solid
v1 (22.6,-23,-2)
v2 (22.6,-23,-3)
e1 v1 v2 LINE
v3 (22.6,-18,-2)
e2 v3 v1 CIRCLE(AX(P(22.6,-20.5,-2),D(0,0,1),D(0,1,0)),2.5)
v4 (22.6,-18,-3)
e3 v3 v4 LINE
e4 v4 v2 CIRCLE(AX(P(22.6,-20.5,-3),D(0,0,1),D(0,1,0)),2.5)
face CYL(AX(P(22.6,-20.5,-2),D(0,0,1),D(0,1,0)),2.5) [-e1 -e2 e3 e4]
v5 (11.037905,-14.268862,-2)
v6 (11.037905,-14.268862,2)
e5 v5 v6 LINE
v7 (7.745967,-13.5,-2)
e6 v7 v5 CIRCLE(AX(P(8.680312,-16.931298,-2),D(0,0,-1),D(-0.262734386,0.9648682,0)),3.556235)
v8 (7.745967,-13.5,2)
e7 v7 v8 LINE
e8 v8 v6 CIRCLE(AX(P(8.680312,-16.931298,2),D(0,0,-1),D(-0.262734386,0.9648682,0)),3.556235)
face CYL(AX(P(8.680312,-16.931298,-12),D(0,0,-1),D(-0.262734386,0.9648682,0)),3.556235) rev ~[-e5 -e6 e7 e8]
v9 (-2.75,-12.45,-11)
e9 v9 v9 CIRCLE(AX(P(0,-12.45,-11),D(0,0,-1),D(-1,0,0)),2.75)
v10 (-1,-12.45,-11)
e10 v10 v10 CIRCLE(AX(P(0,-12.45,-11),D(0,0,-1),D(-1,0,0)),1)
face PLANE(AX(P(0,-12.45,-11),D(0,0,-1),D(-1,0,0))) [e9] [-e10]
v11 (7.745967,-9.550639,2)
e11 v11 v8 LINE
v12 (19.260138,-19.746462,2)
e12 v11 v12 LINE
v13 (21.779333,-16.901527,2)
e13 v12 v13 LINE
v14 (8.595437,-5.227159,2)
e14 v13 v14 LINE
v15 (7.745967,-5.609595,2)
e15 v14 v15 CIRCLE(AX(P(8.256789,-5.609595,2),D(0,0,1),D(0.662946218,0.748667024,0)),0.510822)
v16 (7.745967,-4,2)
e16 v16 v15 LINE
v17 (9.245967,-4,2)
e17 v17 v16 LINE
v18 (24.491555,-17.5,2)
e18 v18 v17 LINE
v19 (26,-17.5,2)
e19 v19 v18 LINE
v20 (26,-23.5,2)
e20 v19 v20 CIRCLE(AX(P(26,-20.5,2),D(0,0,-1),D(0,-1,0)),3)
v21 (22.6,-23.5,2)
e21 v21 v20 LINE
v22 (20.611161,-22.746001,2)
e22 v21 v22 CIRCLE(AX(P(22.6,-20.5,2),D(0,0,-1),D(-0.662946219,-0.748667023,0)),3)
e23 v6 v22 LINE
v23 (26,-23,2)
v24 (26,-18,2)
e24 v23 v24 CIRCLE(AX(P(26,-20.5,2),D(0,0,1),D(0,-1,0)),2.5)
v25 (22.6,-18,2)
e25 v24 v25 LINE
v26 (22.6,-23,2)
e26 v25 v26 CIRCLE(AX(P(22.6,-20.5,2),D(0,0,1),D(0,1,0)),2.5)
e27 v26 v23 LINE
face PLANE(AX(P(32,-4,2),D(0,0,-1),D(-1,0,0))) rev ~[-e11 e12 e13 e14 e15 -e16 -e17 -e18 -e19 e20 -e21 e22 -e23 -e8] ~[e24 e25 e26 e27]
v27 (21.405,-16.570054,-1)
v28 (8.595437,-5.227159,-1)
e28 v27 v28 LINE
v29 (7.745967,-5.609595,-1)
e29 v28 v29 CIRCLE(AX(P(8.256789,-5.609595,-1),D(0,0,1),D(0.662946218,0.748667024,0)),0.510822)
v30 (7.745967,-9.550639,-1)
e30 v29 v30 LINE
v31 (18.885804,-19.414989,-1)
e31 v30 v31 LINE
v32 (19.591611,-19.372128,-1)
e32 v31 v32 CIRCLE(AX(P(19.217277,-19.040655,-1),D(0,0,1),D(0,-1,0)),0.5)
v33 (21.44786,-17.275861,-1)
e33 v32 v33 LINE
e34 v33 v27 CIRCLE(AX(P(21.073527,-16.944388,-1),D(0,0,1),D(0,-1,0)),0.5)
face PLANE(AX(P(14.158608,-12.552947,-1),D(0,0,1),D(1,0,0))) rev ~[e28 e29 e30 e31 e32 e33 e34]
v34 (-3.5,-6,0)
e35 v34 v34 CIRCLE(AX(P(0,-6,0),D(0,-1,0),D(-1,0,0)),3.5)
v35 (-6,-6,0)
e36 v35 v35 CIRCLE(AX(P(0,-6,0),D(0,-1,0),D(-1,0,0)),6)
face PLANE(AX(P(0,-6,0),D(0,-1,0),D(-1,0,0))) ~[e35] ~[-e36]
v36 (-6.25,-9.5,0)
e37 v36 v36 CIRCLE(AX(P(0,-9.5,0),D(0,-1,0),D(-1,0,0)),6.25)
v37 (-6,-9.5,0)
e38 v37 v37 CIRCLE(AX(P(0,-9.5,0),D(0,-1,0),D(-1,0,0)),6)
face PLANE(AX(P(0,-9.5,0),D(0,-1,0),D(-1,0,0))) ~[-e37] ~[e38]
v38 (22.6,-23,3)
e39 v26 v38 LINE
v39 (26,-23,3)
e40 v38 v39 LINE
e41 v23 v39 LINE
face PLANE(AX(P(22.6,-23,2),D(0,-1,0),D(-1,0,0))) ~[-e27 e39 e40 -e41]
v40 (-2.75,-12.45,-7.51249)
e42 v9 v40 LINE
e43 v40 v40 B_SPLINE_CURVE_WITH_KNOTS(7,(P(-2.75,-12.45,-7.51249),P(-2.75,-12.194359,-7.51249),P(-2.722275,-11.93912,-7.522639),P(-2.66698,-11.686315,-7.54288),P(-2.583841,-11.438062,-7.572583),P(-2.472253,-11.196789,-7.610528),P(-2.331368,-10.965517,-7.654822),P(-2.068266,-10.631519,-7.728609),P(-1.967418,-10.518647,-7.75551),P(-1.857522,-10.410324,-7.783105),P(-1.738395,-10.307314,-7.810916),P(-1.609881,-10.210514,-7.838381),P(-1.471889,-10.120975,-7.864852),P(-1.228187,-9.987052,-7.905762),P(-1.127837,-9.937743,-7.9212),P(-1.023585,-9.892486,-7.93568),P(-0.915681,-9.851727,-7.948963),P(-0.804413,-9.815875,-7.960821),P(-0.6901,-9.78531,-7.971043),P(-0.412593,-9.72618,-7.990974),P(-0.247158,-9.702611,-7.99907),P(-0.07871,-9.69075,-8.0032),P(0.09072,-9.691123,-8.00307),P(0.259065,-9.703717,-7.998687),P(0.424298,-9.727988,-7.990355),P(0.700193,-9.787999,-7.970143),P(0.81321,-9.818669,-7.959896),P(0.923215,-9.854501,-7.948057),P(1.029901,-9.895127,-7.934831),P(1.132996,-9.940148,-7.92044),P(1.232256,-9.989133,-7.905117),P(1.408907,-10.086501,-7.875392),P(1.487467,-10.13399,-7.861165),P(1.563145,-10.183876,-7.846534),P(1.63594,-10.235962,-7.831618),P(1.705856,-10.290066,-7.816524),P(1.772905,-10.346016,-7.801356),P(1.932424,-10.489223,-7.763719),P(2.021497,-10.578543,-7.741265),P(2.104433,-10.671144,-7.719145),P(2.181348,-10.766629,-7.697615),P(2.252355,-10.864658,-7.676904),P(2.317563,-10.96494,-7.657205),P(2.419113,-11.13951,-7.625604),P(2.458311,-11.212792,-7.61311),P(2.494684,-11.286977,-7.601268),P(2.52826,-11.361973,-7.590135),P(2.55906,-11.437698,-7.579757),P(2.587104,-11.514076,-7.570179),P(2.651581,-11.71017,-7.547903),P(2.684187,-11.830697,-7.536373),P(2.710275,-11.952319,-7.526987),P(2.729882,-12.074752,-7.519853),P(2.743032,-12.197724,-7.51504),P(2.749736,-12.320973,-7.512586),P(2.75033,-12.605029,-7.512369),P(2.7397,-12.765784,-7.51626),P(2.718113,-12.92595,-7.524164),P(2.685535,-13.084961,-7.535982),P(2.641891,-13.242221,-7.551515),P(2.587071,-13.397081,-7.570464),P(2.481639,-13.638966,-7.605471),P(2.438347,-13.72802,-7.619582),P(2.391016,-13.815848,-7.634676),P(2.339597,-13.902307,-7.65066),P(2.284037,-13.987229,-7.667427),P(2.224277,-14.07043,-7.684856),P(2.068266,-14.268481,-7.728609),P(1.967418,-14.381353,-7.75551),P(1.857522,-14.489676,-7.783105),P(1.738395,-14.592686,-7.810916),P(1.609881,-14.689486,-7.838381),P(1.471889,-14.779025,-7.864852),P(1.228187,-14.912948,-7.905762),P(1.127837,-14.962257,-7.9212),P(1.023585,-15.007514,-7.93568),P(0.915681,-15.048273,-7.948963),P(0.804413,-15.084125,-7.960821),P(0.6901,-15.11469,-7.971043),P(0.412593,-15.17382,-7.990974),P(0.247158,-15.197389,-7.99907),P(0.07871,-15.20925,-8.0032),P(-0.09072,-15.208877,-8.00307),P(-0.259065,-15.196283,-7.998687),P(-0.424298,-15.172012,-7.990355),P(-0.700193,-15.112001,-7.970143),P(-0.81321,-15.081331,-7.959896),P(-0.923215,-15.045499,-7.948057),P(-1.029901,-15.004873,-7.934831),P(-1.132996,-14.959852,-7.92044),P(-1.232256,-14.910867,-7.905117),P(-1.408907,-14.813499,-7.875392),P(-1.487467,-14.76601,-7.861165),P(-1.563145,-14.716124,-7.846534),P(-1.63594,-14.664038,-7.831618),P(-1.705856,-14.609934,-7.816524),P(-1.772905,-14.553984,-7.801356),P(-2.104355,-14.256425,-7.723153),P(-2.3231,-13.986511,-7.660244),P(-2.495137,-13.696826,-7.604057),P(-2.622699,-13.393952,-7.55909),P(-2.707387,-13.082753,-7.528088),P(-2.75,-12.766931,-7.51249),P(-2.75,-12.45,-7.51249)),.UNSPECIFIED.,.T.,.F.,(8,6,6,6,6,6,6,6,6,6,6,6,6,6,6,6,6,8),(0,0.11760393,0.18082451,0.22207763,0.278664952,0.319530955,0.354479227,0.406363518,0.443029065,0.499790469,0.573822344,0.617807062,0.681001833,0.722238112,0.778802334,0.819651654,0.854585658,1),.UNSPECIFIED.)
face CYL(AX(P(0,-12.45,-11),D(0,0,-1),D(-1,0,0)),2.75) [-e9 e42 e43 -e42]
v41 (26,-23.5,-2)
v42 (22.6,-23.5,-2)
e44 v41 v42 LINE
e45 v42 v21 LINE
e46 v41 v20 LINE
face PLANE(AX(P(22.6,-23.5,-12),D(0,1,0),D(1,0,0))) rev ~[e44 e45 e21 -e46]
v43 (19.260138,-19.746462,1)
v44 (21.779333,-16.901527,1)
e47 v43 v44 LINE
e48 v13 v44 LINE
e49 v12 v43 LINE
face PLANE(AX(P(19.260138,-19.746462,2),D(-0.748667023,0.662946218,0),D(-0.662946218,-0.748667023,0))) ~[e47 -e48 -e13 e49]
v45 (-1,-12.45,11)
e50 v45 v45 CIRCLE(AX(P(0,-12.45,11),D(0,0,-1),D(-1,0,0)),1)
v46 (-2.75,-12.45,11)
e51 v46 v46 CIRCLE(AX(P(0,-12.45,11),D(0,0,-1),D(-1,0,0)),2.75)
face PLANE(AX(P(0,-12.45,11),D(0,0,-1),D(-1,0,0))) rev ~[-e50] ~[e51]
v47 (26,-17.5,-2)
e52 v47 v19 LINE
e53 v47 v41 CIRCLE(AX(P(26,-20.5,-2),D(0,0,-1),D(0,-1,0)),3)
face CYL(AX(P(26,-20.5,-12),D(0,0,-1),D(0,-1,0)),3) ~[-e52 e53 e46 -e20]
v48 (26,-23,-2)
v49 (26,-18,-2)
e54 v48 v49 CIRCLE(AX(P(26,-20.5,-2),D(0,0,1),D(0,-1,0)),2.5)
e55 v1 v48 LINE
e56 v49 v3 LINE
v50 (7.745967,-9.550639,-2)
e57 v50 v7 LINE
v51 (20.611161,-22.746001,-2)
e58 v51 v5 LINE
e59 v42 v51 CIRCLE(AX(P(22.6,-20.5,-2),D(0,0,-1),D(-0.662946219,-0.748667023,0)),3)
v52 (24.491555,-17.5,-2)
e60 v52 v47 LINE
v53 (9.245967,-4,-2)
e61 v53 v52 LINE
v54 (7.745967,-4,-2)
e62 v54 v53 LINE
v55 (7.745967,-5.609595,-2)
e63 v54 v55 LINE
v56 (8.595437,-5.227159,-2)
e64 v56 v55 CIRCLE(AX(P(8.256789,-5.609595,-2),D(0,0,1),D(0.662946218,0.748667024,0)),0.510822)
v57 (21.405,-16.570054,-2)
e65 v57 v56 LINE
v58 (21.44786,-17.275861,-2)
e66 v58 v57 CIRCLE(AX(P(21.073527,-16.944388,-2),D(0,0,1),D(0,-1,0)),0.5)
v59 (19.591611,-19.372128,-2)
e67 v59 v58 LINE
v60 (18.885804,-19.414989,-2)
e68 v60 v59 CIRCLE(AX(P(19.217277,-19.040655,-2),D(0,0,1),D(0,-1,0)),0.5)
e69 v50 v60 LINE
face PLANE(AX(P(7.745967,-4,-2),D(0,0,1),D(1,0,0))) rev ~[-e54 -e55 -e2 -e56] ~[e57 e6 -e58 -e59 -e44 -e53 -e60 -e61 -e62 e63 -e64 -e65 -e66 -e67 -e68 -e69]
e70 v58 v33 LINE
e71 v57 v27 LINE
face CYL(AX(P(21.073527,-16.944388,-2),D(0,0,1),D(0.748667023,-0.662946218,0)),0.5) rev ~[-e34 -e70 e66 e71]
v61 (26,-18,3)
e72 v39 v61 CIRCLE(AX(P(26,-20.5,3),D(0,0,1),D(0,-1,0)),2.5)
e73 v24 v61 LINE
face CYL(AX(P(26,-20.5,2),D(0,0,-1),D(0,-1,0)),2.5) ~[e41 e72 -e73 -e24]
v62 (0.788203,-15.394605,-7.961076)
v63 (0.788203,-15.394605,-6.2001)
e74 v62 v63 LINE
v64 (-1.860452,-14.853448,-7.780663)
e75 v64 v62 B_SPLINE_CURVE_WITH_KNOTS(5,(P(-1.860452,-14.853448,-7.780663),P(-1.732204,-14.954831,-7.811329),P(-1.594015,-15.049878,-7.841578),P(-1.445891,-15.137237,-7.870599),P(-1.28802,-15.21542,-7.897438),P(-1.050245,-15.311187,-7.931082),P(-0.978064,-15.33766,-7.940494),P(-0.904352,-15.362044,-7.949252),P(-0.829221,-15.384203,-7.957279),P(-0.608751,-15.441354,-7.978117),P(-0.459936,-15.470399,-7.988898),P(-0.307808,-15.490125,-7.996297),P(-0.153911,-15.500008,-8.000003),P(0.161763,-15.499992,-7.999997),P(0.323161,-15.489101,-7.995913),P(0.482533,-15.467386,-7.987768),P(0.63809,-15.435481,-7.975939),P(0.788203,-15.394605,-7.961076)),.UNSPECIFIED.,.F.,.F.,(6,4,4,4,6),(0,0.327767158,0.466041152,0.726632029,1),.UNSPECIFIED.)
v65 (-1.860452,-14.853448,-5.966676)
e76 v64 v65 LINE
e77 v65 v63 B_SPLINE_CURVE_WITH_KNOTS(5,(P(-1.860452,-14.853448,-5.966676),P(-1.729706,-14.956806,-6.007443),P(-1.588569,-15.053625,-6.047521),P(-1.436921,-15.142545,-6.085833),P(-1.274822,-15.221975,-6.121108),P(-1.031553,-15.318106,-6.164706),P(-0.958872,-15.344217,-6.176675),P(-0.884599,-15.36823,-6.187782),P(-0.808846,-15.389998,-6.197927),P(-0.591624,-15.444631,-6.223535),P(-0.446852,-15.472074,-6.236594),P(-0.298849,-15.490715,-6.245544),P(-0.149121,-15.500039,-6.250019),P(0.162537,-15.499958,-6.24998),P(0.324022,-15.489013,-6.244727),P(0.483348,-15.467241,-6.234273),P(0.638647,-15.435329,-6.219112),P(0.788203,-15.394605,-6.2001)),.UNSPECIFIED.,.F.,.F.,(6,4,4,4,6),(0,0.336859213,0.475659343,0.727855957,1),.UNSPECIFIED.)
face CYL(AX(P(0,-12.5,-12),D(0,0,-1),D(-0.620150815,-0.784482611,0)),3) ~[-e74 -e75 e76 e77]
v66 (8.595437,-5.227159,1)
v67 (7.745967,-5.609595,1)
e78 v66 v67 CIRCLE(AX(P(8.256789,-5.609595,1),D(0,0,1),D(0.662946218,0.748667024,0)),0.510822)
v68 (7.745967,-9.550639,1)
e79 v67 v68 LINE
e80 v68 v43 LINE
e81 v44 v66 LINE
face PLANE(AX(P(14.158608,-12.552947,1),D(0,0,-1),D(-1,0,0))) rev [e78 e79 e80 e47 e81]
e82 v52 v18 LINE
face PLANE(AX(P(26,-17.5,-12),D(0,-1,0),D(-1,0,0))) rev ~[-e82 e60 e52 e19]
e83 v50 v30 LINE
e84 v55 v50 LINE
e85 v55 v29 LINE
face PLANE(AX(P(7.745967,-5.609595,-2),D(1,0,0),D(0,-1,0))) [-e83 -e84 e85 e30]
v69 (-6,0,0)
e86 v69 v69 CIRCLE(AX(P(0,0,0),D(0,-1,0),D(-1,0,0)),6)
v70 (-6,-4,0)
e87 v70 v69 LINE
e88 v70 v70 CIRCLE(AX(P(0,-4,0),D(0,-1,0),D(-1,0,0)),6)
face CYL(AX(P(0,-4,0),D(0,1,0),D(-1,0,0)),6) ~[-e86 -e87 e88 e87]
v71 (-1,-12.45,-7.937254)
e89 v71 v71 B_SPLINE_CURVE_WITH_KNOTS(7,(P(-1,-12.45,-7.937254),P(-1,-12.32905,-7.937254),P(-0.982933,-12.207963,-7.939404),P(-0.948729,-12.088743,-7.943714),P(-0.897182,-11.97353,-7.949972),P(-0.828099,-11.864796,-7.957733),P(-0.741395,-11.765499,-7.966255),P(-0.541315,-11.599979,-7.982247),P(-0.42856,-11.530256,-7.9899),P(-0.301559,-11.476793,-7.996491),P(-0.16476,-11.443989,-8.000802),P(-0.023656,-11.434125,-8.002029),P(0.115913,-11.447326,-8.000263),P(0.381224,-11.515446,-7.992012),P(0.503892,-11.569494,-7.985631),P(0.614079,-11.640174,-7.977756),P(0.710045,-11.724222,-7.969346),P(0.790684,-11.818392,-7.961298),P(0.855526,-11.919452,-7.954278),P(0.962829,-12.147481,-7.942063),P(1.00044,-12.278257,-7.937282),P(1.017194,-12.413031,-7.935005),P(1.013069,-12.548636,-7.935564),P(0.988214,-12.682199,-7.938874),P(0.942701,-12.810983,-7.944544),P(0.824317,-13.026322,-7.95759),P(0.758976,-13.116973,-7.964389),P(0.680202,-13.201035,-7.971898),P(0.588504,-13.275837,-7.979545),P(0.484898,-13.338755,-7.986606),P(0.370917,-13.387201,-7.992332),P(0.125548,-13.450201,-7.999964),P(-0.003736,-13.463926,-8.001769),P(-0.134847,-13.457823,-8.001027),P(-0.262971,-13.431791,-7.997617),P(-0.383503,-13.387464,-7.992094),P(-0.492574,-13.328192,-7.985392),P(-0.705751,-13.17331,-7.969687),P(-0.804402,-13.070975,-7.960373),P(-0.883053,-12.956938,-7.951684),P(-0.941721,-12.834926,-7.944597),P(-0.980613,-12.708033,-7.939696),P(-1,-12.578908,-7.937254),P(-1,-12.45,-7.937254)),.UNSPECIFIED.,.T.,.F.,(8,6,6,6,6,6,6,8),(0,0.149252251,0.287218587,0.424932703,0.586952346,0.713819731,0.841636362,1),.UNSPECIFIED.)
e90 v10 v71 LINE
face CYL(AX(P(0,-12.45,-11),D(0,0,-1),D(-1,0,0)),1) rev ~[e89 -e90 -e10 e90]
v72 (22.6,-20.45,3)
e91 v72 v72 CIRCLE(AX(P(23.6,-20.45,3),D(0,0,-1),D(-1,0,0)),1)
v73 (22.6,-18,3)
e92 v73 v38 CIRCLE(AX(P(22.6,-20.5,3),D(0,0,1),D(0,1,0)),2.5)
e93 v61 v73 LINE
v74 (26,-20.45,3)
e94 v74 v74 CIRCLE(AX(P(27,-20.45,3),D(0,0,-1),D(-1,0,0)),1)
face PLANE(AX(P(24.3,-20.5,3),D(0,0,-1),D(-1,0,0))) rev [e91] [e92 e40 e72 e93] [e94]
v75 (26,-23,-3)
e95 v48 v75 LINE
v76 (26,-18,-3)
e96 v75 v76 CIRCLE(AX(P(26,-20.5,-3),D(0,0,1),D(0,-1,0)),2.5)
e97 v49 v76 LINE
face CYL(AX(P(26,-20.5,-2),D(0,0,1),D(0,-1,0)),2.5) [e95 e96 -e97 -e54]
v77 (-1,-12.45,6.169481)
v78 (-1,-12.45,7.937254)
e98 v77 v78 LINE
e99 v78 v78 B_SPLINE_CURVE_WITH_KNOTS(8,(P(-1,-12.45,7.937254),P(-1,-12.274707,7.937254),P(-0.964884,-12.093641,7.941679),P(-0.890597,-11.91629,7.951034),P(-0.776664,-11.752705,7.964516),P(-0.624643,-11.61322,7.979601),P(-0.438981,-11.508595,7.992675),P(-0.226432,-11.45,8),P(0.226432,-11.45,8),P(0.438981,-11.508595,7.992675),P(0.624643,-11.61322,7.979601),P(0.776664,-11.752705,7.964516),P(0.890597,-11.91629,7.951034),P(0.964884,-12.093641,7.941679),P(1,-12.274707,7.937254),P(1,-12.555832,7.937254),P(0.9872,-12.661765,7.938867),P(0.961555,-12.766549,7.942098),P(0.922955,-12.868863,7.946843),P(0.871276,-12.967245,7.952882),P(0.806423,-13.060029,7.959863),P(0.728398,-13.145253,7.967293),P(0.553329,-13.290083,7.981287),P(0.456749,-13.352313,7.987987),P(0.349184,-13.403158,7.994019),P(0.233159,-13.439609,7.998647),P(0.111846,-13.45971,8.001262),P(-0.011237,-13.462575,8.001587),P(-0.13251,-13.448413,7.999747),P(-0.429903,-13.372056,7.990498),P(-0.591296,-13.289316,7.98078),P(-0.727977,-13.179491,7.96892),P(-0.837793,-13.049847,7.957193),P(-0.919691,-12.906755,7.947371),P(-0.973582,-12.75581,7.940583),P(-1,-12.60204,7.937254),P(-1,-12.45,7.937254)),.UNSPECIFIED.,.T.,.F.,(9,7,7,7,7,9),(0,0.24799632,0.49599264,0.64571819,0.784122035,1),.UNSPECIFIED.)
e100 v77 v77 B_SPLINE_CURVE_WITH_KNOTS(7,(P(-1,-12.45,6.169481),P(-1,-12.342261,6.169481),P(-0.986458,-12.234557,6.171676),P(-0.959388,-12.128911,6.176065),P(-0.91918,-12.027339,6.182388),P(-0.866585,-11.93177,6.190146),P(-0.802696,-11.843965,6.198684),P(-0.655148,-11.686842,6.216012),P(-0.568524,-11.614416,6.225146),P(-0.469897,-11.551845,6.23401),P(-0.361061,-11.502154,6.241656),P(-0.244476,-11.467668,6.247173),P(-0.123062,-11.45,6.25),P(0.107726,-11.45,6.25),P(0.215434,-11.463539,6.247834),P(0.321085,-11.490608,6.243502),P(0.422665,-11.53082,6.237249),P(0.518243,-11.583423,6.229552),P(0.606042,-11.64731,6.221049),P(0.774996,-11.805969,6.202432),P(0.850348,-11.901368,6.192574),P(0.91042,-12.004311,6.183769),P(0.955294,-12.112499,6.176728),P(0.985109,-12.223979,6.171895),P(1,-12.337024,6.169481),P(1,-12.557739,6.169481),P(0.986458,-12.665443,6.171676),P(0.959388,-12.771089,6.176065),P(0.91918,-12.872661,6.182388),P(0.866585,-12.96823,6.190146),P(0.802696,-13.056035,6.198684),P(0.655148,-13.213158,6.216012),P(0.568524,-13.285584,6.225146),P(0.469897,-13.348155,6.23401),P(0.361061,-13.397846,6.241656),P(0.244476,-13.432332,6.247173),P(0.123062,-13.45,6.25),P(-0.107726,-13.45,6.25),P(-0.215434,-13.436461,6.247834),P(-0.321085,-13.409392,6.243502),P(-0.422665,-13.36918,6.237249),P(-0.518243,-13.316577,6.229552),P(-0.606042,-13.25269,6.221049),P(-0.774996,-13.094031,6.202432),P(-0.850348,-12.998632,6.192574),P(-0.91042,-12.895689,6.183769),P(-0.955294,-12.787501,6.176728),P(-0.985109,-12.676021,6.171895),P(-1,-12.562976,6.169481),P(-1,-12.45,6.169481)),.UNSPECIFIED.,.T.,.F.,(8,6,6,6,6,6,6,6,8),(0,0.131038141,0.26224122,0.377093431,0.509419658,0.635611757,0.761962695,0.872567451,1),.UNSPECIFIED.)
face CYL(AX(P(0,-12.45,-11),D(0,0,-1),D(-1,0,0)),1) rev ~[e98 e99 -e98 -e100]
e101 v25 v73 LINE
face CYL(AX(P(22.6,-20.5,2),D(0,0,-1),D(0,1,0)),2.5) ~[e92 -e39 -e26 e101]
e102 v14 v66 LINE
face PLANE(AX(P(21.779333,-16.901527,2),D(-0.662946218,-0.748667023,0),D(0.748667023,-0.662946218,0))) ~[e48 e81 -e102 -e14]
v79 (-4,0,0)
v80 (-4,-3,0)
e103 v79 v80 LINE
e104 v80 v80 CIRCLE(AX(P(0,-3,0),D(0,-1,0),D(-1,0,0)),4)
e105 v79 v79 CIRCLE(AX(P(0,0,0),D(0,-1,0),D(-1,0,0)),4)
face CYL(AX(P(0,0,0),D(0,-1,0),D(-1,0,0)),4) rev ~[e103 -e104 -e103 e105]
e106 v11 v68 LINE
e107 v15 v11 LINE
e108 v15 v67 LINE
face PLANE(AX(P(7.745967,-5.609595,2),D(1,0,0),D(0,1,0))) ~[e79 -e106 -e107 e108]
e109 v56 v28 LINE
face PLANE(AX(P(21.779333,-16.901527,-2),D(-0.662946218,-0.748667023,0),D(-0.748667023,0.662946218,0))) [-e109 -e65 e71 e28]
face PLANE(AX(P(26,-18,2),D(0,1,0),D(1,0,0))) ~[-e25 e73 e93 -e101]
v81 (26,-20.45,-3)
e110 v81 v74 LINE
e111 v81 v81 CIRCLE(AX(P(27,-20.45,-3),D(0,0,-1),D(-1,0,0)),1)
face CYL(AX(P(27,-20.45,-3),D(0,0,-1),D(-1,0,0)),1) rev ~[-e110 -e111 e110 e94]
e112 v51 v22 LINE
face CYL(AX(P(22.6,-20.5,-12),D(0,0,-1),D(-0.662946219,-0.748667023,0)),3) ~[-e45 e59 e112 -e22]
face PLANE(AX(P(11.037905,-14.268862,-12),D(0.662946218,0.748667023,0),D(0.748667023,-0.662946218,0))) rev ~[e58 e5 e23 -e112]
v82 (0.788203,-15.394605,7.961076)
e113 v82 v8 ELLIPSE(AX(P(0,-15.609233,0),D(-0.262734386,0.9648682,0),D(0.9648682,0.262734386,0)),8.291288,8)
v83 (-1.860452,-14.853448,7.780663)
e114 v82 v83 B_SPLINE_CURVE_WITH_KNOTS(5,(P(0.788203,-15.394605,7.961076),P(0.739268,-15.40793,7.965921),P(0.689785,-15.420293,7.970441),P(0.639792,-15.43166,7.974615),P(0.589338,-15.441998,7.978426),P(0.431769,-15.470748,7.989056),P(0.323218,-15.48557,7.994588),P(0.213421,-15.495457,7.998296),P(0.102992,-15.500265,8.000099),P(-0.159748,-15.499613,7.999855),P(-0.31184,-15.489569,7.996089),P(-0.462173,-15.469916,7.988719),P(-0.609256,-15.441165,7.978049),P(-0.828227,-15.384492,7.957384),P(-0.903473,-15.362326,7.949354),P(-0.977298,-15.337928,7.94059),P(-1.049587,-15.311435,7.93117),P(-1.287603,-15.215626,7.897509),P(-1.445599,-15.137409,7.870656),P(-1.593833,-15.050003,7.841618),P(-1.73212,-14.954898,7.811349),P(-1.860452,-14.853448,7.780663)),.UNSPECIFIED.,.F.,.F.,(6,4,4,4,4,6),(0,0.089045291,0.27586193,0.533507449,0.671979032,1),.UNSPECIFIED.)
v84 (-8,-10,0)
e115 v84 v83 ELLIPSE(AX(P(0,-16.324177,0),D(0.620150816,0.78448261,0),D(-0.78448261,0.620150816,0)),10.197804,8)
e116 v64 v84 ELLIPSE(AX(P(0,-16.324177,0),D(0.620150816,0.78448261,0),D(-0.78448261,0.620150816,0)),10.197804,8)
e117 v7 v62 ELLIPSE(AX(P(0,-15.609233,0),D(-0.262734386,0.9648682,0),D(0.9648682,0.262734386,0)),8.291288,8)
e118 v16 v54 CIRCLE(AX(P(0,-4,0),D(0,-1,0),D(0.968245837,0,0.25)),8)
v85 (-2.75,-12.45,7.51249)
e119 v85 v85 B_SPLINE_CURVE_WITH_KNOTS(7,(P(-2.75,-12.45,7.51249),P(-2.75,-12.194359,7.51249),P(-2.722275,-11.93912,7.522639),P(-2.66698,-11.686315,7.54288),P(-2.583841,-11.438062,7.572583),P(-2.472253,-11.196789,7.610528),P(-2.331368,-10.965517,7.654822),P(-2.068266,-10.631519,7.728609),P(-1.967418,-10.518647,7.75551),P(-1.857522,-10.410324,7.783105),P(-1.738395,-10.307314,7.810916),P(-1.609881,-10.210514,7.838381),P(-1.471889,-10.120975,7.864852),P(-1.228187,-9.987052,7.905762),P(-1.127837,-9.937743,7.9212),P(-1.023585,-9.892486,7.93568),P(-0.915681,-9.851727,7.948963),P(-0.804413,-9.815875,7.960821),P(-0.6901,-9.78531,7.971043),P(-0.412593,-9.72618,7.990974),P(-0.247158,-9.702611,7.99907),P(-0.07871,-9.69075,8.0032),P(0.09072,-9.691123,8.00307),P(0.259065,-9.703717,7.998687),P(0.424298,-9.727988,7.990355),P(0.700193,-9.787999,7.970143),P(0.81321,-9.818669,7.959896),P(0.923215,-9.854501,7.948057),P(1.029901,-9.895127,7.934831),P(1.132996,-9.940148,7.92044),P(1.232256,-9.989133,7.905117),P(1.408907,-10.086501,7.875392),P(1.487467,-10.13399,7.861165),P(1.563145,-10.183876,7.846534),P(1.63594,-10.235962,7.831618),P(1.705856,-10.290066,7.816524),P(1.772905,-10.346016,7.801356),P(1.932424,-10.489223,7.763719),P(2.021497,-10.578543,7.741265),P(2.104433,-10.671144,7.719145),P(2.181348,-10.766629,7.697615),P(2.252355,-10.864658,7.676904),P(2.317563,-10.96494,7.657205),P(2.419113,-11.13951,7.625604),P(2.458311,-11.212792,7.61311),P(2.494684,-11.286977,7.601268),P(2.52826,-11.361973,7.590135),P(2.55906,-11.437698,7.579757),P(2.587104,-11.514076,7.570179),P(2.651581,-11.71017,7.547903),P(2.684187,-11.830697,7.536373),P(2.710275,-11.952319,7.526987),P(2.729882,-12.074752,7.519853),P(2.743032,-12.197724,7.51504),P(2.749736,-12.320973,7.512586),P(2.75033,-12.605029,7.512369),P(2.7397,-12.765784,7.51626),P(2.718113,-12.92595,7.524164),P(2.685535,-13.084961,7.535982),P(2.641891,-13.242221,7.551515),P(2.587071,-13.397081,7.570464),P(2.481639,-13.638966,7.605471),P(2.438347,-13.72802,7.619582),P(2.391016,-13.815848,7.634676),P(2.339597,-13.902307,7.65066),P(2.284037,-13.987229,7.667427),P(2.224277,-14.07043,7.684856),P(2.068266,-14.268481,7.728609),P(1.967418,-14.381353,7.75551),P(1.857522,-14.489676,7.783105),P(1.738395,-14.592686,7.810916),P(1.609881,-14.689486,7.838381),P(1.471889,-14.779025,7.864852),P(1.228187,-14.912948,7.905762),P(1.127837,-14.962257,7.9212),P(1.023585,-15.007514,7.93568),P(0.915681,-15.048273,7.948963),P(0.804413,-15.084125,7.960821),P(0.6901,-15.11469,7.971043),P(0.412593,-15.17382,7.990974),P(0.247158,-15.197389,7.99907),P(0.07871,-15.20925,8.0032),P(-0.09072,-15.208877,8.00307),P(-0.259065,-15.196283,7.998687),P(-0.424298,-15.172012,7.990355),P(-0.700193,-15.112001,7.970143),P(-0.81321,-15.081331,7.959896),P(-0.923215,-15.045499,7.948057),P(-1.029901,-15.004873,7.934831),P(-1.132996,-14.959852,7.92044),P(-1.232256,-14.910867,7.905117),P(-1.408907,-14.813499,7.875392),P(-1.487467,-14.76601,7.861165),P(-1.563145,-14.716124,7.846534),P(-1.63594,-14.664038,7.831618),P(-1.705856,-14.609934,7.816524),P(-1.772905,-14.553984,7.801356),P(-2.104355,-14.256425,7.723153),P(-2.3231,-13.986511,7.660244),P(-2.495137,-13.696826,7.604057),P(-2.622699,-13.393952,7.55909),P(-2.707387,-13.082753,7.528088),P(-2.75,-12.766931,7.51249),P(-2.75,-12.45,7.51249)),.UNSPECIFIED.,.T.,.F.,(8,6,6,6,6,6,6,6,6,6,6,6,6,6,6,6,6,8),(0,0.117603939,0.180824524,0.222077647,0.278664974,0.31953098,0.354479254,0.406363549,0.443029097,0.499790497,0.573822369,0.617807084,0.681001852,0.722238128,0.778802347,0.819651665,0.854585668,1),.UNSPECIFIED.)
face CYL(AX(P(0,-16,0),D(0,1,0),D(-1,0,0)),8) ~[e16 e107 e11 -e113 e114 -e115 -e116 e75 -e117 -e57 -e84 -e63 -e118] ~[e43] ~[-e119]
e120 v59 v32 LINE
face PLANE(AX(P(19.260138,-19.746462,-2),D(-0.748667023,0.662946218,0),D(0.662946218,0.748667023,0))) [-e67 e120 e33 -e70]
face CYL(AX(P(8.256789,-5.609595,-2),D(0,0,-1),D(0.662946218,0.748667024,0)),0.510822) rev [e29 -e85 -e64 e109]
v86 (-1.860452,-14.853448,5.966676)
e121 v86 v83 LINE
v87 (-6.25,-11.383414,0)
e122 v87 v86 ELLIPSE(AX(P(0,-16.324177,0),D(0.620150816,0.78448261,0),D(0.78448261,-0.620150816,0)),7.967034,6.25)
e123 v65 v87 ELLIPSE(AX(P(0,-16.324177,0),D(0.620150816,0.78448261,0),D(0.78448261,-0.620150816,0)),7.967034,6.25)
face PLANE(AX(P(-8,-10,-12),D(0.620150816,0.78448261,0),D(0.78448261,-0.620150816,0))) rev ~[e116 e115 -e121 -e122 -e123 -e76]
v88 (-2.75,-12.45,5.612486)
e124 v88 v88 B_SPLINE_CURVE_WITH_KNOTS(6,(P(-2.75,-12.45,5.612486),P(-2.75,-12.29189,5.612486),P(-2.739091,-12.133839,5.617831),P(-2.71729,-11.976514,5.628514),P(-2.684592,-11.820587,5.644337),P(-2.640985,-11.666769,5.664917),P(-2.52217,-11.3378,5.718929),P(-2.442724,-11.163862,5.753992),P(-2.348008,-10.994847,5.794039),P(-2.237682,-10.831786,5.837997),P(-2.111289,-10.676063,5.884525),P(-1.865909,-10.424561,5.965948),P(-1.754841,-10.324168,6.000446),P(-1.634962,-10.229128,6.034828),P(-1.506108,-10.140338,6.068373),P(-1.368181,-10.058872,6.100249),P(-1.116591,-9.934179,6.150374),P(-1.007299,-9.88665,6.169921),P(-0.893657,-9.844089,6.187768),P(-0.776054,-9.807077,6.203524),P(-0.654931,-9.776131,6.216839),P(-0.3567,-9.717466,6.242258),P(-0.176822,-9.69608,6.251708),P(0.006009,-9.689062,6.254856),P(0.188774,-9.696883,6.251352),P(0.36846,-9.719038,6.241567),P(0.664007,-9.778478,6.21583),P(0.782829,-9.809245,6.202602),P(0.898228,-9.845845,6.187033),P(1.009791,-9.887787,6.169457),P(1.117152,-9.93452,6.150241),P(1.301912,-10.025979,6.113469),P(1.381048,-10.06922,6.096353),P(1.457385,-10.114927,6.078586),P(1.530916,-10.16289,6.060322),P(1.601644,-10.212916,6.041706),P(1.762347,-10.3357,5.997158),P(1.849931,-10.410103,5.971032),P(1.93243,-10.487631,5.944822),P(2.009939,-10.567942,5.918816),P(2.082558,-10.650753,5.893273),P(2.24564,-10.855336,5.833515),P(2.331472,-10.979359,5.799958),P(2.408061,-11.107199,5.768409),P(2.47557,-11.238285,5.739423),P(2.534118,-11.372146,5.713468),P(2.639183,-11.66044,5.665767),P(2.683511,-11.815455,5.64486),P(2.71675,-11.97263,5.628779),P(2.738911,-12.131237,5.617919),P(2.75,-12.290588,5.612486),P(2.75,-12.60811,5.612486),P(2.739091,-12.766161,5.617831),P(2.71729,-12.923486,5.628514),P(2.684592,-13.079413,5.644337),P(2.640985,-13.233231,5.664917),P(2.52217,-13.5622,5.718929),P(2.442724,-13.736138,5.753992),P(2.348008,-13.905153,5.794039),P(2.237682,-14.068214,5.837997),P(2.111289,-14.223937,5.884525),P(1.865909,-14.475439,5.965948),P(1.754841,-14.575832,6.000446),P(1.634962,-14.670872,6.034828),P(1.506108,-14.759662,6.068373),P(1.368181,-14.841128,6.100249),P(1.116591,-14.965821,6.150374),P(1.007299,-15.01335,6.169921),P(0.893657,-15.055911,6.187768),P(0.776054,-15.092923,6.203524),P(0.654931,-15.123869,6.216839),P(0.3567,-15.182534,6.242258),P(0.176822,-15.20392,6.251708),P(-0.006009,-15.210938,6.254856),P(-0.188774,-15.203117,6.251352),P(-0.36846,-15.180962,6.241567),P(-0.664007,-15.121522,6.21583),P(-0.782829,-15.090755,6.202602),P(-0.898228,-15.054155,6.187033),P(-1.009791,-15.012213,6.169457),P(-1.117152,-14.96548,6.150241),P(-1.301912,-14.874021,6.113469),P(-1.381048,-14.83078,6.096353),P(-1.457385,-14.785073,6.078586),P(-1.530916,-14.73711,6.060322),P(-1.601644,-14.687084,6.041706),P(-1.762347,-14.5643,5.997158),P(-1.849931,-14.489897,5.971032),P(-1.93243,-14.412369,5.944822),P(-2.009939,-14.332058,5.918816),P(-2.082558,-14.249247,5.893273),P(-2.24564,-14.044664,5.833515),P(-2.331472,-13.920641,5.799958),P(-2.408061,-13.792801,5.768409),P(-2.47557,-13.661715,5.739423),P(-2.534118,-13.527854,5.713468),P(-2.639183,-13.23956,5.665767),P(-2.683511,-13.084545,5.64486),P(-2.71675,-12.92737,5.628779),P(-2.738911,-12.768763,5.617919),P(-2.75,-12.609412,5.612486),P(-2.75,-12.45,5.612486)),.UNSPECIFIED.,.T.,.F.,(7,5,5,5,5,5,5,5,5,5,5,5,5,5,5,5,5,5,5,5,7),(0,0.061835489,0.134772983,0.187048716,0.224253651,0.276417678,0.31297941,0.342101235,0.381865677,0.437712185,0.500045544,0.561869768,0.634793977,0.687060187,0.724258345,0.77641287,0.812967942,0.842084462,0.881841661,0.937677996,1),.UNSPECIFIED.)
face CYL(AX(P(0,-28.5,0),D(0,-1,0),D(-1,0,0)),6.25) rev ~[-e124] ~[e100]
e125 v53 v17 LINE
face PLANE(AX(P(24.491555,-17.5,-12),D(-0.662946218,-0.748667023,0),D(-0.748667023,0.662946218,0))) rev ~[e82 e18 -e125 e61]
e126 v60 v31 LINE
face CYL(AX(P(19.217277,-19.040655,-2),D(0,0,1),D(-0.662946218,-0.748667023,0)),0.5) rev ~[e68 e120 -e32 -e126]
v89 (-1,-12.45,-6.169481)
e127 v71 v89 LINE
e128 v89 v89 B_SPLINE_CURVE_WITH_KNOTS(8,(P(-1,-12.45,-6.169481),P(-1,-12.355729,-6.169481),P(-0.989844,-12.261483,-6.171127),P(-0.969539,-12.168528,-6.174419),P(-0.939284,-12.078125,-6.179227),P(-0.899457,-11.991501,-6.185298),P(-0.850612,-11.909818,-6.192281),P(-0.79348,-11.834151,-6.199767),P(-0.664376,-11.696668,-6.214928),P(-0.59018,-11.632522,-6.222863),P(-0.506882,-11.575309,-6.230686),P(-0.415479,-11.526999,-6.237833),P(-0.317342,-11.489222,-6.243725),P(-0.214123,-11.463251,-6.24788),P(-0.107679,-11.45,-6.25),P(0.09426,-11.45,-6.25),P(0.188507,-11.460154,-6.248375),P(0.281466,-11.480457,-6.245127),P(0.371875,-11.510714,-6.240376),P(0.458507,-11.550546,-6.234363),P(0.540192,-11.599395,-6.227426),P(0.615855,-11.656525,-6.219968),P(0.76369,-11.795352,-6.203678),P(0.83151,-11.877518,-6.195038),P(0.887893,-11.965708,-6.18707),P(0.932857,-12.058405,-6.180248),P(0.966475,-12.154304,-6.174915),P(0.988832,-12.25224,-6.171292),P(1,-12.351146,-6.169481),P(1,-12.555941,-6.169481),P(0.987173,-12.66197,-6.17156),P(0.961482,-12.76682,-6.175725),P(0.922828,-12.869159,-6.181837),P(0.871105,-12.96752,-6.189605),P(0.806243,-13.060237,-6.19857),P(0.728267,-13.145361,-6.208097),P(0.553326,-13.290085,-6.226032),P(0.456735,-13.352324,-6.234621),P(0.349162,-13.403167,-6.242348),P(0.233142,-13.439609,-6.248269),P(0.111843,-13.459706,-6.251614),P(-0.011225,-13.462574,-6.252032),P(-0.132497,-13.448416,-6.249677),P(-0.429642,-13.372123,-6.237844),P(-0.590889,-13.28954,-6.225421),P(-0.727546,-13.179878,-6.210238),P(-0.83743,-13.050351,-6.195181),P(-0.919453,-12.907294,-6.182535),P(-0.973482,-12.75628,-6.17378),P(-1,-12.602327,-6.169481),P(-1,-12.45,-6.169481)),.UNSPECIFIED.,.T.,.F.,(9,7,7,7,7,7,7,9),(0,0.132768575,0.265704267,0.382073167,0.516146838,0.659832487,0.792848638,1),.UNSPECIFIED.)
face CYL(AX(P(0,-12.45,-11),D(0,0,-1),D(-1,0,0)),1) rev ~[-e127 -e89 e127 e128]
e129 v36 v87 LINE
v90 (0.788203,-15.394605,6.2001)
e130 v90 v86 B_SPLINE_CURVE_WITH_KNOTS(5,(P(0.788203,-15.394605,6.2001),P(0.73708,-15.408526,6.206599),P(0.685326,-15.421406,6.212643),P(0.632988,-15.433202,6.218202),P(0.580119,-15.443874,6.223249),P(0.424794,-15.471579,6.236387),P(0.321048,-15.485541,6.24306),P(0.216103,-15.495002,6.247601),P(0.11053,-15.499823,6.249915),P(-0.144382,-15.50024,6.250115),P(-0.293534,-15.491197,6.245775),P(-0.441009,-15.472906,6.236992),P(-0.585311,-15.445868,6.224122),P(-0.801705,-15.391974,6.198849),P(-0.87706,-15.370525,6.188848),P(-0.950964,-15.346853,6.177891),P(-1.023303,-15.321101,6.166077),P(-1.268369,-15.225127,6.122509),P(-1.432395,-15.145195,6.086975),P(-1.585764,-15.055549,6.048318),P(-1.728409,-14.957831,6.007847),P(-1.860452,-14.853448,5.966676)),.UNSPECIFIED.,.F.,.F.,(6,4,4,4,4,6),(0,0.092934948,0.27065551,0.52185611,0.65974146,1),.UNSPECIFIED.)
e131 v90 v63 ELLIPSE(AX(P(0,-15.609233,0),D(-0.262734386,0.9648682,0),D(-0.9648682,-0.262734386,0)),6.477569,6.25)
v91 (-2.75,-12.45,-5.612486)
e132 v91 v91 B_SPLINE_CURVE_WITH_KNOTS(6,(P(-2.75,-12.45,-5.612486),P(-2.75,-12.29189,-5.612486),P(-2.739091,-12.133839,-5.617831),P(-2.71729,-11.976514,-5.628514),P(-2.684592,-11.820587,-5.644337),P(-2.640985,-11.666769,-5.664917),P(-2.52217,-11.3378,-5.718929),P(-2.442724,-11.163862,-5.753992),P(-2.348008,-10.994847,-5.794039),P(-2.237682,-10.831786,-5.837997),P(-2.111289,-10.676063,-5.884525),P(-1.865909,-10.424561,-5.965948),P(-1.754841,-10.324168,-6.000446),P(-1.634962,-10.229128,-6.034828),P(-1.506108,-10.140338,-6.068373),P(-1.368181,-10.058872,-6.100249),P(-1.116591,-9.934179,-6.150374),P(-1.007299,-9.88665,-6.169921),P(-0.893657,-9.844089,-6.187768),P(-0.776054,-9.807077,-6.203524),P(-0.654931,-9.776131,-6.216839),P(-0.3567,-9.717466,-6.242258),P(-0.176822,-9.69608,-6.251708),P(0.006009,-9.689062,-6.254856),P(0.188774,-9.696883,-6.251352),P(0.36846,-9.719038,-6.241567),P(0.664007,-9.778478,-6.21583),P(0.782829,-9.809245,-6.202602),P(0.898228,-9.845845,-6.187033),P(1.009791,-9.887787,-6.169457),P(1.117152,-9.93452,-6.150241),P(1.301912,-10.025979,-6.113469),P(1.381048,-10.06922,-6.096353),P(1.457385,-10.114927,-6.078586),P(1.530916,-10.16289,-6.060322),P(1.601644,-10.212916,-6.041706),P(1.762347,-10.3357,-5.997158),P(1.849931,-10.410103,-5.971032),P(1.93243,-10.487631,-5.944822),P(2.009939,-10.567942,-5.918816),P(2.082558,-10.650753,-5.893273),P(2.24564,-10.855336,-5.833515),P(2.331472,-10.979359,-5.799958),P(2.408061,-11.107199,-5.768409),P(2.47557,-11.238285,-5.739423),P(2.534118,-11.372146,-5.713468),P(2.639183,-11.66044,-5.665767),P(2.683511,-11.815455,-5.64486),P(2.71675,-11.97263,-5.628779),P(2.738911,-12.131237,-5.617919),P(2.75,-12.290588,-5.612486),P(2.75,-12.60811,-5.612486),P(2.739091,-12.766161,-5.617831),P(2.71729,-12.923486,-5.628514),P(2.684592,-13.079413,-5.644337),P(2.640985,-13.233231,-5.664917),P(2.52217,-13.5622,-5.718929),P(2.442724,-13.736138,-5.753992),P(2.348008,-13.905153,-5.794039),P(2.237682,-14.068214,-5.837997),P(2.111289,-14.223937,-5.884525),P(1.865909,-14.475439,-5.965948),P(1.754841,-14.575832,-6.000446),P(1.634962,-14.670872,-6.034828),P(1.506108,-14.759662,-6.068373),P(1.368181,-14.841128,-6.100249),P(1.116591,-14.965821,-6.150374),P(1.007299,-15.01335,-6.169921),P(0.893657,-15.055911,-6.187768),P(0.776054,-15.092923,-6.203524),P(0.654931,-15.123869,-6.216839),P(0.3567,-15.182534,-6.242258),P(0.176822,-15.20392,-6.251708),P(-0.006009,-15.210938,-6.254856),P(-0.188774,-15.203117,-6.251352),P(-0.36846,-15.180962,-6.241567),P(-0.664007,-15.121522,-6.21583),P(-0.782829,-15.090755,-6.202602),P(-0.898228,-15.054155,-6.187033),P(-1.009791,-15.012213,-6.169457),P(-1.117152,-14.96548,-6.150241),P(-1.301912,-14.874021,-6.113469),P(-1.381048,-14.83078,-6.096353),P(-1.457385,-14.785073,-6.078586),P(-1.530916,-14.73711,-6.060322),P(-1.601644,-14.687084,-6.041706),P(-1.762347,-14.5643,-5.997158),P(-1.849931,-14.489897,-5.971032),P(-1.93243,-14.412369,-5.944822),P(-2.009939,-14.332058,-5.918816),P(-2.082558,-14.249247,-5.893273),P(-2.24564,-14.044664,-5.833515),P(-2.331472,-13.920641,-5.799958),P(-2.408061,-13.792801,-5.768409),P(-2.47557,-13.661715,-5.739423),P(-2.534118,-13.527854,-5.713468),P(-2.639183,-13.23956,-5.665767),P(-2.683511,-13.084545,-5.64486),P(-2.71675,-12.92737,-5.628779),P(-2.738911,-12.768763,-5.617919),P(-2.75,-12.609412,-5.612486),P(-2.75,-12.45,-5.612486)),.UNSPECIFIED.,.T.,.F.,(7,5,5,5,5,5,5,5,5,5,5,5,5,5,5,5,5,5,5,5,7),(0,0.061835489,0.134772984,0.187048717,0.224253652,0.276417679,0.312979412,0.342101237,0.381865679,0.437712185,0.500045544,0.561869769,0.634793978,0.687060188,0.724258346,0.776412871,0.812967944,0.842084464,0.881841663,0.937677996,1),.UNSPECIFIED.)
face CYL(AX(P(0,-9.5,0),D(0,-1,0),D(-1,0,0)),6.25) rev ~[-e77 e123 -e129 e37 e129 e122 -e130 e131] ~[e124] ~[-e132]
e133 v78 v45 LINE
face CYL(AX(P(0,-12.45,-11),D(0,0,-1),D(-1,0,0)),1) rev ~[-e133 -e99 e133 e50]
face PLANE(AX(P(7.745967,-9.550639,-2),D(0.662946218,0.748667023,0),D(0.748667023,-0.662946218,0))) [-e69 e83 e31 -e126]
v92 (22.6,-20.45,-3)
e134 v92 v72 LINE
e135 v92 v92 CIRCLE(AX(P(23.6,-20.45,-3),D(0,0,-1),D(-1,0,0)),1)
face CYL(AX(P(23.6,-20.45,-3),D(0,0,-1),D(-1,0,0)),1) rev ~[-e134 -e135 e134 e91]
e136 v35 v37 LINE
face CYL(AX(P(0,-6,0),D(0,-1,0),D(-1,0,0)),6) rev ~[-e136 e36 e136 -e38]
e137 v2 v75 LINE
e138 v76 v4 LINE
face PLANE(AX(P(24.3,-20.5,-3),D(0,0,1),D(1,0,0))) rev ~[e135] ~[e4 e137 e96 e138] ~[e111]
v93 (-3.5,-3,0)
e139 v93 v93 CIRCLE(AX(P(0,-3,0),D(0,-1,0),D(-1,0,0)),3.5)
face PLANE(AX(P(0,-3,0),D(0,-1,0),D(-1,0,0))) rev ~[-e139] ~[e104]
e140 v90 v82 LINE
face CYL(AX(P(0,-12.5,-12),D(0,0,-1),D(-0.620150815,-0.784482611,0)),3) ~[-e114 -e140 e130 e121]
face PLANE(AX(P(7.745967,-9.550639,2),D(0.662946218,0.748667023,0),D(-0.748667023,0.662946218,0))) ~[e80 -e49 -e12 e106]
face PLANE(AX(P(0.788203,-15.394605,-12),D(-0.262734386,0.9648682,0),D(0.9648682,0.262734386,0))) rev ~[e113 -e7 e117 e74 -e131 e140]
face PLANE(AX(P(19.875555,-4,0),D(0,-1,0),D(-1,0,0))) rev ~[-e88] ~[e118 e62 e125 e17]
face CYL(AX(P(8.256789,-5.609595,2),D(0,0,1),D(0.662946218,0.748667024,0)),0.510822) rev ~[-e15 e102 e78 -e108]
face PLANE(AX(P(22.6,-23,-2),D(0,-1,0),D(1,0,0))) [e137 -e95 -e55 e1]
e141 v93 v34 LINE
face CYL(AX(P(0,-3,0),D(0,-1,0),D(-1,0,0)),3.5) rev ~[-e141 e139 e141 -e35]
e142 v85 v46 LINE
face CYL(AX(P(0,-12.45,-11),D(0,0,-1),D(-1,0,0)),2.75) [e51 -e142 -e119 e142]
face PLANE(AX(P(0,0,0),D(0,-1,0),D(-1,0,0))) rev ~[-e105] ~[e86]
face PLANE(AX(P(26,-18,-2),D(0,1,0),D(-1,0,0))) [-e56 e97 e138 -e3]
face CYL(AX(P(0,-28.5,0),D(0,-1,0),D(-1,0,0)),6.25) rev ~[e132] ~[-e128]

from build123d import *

# Parameters (mm, degrees)
EXTRUDE_1_DEPTH     = 29
CUT_EXTRUDE_1_DEPTH = 29
CUT_EXTRUDE_2_DEPTH = 1
FILLET_1_R          = 0.5
EXTRUDE_2_DEPTH     = 1
SKETCH_7_R          = 2.75
SKETCH_7_R_2        = 1
EXTRUDE_5_DEPTH     = 22
CUT_EXTRUDE_START   = 19
SKETCH_8_R          = 6.25
CUT_EXTRUDE_4_DEPTH = 19
SKETCH_9_R          = 1
CUT_EXTRUDE_5_DEPTH = 18
SKETCH_10_R         = 1
CUT_EXTRUDE_6_DEPTH = 26


with BuildPart() as part:
    # 草图1 → 旋转1 (revolve)
    with BuildSketch(Plane.XY, mode=Mode.PRIVATE) as revolve_1_sk:
        Polygon((4, 0), (4, -3), (3.5, -3), (3.5, -6), (6, -6), (6, -9.5), (6.25, -9.5), (6.25, -16), (8, -16), (8, -4), (6, -4), (6, 0), align=None)
    revolve(revolve_1_sk.sketch.rotate(Axis((0, 0, 0), (0, -1, 0)), 180), axis=Axis((0, 0, 0), (0, -1, 0)))

    # 草图2 → 凸台-拉伸1 (add)
    with BuildSketch(Plane(origin=(0, -4, 0), x_dir=(1, 0, 0), z_dir=(0, 1, 0))):
        with BuildLine():
            Line((7.745966692, 2), (32, 2))
            Line((32, 2), (32, -2))
            Line((32, -2), (7.745966692, -2))
            ThreePointArc((7.745966692, -2), (8, 0), (7.745966692, 2))
        make_face()
    extrude(amount=-EXTRUDE_1_DEPTH)

    # 草图3 → 切除-拉伸1 (cut)
    with BuildSketch(Plane(origin=(0, 0, -12), x_dir=(-1, 0, 0), z_dir=(0, 0, -1))):
        with BuildLine():
            Line((8, -10), (1.860452447, -14.853447831))
            ThreePointArc((1.860452447, -14.853447831), (0.600535009, -15.439278432), (-0.788203157, -15.394604599))
            Line((-0.788203157, -15.394604599), (-7.745966692, -13.5))
            ThreePointArc((-7.745966692, -13.5), (-9.489135576, -13.468262993), (-11.037904709, -14.26886225))
            Line((-11.037904709, -14.26886225), (-20.611161345, -22.746001069))
            ThreePointArc((-20.611161345, -22.746001069), (-21.536515916, -23.305174077), (-22.6, -23.5))
            Line((-22.6, -23.5), (-26, -23.5))
            ThreePointArc((-26, -23.5), (-29, -20.5), (-26, -17.5))
            Line((-26, -17.5), (-24.491554542, -17.5))
            Line((-24.491554542, -17.5), (-9.245966692, -4))
            Line((-9.245966692, -4), (-32, -4))
            Line((-32, -4), (-32, -33))
            Line((-32, -33), (-7.745966692, -33))
            Line((-7.745966692, -33), (-7.745966692, -16))
            Line((-7.745966692, -16), (8, -16))
            Line((8, -16), (8, -10))
        make_face()
    extrude(amount=-CUT_EXTRUDE_1_DEPTH, mode=Mode.SUBTRACT)

    # 草图4 → 切除-拉伸2 (cut)
    with BuildSketch(Plane(origin=(0, 0, -2), x_dir=(-1, 0, 0), z_dir=(0, 0, -1))):
        with BuildLine():
            Line((-19.26013767, -19.746461933), (-21.7793333, -16.901527245))
            Line((-21.7793333, -16.901527245), (-8.595436654, -5.227159128))
            ThreePointArc((-8.595436654, -5.227159128), (-8.047086067, -5.143800877), (-7.745966692, -5.609594916))
            Line((-7.745966692, -5.609594916), (-7.745966692, -9.550639395))
            Line((-7.745966692, -9.550639395), (-19.26013767, -19.746461933))
        make_face()
    cut_extrude_2 = extrude(amount=-CUT_EXTRUDE_2_DEPTH, mode=Mode.SUBTRACT)

    # 圆角1
    fillet_1_edges = [part.edges().sort_by_distance(p)[0] for p in [
        (19.26013767, -19.746461933, -1.5),
        (21.7793333, -16.901527245, -1.5),
    ]]
    fillet(fillet_1_edges, radius=FILLET_1_R)

    # 草图5 → 凸台-拉伸2 (add)
    with BuildSketch(Plane(origin=(0, 0, -2), x_dir=(-1, 0, 0), z_dir=(0, 0, -1))):
        with BuildLine():
            Line((-22.6, -23), (-26, -23))
            ThreePointArc((-26, -23), (-28.5, -20.5), (-26, -18))
            Line((-26, -18), (-22.6, -18))
            ThreePointArc((-22.6, -18), (-20.1, -20.5), (-22.6, -23))
        make_face()
    extrude_2 = extrude(amount=EXTRUDE_2_DEPTH)

    # 镜向1: 切除-拉伸2, 凸台-拉伸2 across plane
    add(cut_extrude_2.mirror(Plane(origin=(0, 0, 0), x_dir=(1, 0, 0), z_dir=(0, 0, -1))), mode=Mode.SUBTRACT)
    add(extrude_2.mirror(Plane(origin=(0, 0, 0), x_dir=(1, 0, 0), z_dir=(0, 0, -1))))

    # 草图7 → 凸台-拉伸5 (add)
    with BuildSketch(Plane(origin=(0, 0, -11), x_dir=(-1, 0, 0), z_dir=(0, 0, -1))):
        with Locations((0, -12.45)):
            Circle(SKETCH_7_R)
        with Locations((0, -12.45)):
            Circle(SKETCH_7_R_2, mode=Mode.SUBTRACT)
    extrude(amount=-EXTRUDE_5_DEPTH)

    # 草图8 → 切除-拉伸4 (cut)
    with BuildSketch(Plane.XZ.offset(9.5).offset(CUT_EXTRUDE_START)):
        with Locations(Location((0, 0, 0), (0, 0, 180))):
            Circle(SKETCH_8_R)
    extrude(amount=-CUT_EXTRUDE_4_DEPTH, mode=Mode.SUBTRACT)

    # 草图9 → 切除-拉伸5 (cut)
    with BuildSketch(Plane(origin=(0, 0, -3), x_dir=(-1, 0, 0), z_dir=(0, 0, -1))):
        with Locations((-27, -20.45)):
            Circle(SKETCH_9_R)
        with Locations((-23.6, -20.45)):
            Circle(SKETCH_9_R)
    extrude(amount=-CUT_EXTRUDE_5_DEPTH, mode=Mode.SUBTRACT)

    # 草图10 → 切除-拉伸6 (cut)
    with BuildSketch(Plane(origin=(0, 0, -11), x_dir=(-1, 0, 0), z_dir=(0, 0, -1))):
        with Locations((0, -12.45)):
            Circle(SKETCH_10_R)
    extrude(amount=-CUT_EXTRUDE_6_DEPTH, mode=Mode.SUBTRACT)


solid = part.part
